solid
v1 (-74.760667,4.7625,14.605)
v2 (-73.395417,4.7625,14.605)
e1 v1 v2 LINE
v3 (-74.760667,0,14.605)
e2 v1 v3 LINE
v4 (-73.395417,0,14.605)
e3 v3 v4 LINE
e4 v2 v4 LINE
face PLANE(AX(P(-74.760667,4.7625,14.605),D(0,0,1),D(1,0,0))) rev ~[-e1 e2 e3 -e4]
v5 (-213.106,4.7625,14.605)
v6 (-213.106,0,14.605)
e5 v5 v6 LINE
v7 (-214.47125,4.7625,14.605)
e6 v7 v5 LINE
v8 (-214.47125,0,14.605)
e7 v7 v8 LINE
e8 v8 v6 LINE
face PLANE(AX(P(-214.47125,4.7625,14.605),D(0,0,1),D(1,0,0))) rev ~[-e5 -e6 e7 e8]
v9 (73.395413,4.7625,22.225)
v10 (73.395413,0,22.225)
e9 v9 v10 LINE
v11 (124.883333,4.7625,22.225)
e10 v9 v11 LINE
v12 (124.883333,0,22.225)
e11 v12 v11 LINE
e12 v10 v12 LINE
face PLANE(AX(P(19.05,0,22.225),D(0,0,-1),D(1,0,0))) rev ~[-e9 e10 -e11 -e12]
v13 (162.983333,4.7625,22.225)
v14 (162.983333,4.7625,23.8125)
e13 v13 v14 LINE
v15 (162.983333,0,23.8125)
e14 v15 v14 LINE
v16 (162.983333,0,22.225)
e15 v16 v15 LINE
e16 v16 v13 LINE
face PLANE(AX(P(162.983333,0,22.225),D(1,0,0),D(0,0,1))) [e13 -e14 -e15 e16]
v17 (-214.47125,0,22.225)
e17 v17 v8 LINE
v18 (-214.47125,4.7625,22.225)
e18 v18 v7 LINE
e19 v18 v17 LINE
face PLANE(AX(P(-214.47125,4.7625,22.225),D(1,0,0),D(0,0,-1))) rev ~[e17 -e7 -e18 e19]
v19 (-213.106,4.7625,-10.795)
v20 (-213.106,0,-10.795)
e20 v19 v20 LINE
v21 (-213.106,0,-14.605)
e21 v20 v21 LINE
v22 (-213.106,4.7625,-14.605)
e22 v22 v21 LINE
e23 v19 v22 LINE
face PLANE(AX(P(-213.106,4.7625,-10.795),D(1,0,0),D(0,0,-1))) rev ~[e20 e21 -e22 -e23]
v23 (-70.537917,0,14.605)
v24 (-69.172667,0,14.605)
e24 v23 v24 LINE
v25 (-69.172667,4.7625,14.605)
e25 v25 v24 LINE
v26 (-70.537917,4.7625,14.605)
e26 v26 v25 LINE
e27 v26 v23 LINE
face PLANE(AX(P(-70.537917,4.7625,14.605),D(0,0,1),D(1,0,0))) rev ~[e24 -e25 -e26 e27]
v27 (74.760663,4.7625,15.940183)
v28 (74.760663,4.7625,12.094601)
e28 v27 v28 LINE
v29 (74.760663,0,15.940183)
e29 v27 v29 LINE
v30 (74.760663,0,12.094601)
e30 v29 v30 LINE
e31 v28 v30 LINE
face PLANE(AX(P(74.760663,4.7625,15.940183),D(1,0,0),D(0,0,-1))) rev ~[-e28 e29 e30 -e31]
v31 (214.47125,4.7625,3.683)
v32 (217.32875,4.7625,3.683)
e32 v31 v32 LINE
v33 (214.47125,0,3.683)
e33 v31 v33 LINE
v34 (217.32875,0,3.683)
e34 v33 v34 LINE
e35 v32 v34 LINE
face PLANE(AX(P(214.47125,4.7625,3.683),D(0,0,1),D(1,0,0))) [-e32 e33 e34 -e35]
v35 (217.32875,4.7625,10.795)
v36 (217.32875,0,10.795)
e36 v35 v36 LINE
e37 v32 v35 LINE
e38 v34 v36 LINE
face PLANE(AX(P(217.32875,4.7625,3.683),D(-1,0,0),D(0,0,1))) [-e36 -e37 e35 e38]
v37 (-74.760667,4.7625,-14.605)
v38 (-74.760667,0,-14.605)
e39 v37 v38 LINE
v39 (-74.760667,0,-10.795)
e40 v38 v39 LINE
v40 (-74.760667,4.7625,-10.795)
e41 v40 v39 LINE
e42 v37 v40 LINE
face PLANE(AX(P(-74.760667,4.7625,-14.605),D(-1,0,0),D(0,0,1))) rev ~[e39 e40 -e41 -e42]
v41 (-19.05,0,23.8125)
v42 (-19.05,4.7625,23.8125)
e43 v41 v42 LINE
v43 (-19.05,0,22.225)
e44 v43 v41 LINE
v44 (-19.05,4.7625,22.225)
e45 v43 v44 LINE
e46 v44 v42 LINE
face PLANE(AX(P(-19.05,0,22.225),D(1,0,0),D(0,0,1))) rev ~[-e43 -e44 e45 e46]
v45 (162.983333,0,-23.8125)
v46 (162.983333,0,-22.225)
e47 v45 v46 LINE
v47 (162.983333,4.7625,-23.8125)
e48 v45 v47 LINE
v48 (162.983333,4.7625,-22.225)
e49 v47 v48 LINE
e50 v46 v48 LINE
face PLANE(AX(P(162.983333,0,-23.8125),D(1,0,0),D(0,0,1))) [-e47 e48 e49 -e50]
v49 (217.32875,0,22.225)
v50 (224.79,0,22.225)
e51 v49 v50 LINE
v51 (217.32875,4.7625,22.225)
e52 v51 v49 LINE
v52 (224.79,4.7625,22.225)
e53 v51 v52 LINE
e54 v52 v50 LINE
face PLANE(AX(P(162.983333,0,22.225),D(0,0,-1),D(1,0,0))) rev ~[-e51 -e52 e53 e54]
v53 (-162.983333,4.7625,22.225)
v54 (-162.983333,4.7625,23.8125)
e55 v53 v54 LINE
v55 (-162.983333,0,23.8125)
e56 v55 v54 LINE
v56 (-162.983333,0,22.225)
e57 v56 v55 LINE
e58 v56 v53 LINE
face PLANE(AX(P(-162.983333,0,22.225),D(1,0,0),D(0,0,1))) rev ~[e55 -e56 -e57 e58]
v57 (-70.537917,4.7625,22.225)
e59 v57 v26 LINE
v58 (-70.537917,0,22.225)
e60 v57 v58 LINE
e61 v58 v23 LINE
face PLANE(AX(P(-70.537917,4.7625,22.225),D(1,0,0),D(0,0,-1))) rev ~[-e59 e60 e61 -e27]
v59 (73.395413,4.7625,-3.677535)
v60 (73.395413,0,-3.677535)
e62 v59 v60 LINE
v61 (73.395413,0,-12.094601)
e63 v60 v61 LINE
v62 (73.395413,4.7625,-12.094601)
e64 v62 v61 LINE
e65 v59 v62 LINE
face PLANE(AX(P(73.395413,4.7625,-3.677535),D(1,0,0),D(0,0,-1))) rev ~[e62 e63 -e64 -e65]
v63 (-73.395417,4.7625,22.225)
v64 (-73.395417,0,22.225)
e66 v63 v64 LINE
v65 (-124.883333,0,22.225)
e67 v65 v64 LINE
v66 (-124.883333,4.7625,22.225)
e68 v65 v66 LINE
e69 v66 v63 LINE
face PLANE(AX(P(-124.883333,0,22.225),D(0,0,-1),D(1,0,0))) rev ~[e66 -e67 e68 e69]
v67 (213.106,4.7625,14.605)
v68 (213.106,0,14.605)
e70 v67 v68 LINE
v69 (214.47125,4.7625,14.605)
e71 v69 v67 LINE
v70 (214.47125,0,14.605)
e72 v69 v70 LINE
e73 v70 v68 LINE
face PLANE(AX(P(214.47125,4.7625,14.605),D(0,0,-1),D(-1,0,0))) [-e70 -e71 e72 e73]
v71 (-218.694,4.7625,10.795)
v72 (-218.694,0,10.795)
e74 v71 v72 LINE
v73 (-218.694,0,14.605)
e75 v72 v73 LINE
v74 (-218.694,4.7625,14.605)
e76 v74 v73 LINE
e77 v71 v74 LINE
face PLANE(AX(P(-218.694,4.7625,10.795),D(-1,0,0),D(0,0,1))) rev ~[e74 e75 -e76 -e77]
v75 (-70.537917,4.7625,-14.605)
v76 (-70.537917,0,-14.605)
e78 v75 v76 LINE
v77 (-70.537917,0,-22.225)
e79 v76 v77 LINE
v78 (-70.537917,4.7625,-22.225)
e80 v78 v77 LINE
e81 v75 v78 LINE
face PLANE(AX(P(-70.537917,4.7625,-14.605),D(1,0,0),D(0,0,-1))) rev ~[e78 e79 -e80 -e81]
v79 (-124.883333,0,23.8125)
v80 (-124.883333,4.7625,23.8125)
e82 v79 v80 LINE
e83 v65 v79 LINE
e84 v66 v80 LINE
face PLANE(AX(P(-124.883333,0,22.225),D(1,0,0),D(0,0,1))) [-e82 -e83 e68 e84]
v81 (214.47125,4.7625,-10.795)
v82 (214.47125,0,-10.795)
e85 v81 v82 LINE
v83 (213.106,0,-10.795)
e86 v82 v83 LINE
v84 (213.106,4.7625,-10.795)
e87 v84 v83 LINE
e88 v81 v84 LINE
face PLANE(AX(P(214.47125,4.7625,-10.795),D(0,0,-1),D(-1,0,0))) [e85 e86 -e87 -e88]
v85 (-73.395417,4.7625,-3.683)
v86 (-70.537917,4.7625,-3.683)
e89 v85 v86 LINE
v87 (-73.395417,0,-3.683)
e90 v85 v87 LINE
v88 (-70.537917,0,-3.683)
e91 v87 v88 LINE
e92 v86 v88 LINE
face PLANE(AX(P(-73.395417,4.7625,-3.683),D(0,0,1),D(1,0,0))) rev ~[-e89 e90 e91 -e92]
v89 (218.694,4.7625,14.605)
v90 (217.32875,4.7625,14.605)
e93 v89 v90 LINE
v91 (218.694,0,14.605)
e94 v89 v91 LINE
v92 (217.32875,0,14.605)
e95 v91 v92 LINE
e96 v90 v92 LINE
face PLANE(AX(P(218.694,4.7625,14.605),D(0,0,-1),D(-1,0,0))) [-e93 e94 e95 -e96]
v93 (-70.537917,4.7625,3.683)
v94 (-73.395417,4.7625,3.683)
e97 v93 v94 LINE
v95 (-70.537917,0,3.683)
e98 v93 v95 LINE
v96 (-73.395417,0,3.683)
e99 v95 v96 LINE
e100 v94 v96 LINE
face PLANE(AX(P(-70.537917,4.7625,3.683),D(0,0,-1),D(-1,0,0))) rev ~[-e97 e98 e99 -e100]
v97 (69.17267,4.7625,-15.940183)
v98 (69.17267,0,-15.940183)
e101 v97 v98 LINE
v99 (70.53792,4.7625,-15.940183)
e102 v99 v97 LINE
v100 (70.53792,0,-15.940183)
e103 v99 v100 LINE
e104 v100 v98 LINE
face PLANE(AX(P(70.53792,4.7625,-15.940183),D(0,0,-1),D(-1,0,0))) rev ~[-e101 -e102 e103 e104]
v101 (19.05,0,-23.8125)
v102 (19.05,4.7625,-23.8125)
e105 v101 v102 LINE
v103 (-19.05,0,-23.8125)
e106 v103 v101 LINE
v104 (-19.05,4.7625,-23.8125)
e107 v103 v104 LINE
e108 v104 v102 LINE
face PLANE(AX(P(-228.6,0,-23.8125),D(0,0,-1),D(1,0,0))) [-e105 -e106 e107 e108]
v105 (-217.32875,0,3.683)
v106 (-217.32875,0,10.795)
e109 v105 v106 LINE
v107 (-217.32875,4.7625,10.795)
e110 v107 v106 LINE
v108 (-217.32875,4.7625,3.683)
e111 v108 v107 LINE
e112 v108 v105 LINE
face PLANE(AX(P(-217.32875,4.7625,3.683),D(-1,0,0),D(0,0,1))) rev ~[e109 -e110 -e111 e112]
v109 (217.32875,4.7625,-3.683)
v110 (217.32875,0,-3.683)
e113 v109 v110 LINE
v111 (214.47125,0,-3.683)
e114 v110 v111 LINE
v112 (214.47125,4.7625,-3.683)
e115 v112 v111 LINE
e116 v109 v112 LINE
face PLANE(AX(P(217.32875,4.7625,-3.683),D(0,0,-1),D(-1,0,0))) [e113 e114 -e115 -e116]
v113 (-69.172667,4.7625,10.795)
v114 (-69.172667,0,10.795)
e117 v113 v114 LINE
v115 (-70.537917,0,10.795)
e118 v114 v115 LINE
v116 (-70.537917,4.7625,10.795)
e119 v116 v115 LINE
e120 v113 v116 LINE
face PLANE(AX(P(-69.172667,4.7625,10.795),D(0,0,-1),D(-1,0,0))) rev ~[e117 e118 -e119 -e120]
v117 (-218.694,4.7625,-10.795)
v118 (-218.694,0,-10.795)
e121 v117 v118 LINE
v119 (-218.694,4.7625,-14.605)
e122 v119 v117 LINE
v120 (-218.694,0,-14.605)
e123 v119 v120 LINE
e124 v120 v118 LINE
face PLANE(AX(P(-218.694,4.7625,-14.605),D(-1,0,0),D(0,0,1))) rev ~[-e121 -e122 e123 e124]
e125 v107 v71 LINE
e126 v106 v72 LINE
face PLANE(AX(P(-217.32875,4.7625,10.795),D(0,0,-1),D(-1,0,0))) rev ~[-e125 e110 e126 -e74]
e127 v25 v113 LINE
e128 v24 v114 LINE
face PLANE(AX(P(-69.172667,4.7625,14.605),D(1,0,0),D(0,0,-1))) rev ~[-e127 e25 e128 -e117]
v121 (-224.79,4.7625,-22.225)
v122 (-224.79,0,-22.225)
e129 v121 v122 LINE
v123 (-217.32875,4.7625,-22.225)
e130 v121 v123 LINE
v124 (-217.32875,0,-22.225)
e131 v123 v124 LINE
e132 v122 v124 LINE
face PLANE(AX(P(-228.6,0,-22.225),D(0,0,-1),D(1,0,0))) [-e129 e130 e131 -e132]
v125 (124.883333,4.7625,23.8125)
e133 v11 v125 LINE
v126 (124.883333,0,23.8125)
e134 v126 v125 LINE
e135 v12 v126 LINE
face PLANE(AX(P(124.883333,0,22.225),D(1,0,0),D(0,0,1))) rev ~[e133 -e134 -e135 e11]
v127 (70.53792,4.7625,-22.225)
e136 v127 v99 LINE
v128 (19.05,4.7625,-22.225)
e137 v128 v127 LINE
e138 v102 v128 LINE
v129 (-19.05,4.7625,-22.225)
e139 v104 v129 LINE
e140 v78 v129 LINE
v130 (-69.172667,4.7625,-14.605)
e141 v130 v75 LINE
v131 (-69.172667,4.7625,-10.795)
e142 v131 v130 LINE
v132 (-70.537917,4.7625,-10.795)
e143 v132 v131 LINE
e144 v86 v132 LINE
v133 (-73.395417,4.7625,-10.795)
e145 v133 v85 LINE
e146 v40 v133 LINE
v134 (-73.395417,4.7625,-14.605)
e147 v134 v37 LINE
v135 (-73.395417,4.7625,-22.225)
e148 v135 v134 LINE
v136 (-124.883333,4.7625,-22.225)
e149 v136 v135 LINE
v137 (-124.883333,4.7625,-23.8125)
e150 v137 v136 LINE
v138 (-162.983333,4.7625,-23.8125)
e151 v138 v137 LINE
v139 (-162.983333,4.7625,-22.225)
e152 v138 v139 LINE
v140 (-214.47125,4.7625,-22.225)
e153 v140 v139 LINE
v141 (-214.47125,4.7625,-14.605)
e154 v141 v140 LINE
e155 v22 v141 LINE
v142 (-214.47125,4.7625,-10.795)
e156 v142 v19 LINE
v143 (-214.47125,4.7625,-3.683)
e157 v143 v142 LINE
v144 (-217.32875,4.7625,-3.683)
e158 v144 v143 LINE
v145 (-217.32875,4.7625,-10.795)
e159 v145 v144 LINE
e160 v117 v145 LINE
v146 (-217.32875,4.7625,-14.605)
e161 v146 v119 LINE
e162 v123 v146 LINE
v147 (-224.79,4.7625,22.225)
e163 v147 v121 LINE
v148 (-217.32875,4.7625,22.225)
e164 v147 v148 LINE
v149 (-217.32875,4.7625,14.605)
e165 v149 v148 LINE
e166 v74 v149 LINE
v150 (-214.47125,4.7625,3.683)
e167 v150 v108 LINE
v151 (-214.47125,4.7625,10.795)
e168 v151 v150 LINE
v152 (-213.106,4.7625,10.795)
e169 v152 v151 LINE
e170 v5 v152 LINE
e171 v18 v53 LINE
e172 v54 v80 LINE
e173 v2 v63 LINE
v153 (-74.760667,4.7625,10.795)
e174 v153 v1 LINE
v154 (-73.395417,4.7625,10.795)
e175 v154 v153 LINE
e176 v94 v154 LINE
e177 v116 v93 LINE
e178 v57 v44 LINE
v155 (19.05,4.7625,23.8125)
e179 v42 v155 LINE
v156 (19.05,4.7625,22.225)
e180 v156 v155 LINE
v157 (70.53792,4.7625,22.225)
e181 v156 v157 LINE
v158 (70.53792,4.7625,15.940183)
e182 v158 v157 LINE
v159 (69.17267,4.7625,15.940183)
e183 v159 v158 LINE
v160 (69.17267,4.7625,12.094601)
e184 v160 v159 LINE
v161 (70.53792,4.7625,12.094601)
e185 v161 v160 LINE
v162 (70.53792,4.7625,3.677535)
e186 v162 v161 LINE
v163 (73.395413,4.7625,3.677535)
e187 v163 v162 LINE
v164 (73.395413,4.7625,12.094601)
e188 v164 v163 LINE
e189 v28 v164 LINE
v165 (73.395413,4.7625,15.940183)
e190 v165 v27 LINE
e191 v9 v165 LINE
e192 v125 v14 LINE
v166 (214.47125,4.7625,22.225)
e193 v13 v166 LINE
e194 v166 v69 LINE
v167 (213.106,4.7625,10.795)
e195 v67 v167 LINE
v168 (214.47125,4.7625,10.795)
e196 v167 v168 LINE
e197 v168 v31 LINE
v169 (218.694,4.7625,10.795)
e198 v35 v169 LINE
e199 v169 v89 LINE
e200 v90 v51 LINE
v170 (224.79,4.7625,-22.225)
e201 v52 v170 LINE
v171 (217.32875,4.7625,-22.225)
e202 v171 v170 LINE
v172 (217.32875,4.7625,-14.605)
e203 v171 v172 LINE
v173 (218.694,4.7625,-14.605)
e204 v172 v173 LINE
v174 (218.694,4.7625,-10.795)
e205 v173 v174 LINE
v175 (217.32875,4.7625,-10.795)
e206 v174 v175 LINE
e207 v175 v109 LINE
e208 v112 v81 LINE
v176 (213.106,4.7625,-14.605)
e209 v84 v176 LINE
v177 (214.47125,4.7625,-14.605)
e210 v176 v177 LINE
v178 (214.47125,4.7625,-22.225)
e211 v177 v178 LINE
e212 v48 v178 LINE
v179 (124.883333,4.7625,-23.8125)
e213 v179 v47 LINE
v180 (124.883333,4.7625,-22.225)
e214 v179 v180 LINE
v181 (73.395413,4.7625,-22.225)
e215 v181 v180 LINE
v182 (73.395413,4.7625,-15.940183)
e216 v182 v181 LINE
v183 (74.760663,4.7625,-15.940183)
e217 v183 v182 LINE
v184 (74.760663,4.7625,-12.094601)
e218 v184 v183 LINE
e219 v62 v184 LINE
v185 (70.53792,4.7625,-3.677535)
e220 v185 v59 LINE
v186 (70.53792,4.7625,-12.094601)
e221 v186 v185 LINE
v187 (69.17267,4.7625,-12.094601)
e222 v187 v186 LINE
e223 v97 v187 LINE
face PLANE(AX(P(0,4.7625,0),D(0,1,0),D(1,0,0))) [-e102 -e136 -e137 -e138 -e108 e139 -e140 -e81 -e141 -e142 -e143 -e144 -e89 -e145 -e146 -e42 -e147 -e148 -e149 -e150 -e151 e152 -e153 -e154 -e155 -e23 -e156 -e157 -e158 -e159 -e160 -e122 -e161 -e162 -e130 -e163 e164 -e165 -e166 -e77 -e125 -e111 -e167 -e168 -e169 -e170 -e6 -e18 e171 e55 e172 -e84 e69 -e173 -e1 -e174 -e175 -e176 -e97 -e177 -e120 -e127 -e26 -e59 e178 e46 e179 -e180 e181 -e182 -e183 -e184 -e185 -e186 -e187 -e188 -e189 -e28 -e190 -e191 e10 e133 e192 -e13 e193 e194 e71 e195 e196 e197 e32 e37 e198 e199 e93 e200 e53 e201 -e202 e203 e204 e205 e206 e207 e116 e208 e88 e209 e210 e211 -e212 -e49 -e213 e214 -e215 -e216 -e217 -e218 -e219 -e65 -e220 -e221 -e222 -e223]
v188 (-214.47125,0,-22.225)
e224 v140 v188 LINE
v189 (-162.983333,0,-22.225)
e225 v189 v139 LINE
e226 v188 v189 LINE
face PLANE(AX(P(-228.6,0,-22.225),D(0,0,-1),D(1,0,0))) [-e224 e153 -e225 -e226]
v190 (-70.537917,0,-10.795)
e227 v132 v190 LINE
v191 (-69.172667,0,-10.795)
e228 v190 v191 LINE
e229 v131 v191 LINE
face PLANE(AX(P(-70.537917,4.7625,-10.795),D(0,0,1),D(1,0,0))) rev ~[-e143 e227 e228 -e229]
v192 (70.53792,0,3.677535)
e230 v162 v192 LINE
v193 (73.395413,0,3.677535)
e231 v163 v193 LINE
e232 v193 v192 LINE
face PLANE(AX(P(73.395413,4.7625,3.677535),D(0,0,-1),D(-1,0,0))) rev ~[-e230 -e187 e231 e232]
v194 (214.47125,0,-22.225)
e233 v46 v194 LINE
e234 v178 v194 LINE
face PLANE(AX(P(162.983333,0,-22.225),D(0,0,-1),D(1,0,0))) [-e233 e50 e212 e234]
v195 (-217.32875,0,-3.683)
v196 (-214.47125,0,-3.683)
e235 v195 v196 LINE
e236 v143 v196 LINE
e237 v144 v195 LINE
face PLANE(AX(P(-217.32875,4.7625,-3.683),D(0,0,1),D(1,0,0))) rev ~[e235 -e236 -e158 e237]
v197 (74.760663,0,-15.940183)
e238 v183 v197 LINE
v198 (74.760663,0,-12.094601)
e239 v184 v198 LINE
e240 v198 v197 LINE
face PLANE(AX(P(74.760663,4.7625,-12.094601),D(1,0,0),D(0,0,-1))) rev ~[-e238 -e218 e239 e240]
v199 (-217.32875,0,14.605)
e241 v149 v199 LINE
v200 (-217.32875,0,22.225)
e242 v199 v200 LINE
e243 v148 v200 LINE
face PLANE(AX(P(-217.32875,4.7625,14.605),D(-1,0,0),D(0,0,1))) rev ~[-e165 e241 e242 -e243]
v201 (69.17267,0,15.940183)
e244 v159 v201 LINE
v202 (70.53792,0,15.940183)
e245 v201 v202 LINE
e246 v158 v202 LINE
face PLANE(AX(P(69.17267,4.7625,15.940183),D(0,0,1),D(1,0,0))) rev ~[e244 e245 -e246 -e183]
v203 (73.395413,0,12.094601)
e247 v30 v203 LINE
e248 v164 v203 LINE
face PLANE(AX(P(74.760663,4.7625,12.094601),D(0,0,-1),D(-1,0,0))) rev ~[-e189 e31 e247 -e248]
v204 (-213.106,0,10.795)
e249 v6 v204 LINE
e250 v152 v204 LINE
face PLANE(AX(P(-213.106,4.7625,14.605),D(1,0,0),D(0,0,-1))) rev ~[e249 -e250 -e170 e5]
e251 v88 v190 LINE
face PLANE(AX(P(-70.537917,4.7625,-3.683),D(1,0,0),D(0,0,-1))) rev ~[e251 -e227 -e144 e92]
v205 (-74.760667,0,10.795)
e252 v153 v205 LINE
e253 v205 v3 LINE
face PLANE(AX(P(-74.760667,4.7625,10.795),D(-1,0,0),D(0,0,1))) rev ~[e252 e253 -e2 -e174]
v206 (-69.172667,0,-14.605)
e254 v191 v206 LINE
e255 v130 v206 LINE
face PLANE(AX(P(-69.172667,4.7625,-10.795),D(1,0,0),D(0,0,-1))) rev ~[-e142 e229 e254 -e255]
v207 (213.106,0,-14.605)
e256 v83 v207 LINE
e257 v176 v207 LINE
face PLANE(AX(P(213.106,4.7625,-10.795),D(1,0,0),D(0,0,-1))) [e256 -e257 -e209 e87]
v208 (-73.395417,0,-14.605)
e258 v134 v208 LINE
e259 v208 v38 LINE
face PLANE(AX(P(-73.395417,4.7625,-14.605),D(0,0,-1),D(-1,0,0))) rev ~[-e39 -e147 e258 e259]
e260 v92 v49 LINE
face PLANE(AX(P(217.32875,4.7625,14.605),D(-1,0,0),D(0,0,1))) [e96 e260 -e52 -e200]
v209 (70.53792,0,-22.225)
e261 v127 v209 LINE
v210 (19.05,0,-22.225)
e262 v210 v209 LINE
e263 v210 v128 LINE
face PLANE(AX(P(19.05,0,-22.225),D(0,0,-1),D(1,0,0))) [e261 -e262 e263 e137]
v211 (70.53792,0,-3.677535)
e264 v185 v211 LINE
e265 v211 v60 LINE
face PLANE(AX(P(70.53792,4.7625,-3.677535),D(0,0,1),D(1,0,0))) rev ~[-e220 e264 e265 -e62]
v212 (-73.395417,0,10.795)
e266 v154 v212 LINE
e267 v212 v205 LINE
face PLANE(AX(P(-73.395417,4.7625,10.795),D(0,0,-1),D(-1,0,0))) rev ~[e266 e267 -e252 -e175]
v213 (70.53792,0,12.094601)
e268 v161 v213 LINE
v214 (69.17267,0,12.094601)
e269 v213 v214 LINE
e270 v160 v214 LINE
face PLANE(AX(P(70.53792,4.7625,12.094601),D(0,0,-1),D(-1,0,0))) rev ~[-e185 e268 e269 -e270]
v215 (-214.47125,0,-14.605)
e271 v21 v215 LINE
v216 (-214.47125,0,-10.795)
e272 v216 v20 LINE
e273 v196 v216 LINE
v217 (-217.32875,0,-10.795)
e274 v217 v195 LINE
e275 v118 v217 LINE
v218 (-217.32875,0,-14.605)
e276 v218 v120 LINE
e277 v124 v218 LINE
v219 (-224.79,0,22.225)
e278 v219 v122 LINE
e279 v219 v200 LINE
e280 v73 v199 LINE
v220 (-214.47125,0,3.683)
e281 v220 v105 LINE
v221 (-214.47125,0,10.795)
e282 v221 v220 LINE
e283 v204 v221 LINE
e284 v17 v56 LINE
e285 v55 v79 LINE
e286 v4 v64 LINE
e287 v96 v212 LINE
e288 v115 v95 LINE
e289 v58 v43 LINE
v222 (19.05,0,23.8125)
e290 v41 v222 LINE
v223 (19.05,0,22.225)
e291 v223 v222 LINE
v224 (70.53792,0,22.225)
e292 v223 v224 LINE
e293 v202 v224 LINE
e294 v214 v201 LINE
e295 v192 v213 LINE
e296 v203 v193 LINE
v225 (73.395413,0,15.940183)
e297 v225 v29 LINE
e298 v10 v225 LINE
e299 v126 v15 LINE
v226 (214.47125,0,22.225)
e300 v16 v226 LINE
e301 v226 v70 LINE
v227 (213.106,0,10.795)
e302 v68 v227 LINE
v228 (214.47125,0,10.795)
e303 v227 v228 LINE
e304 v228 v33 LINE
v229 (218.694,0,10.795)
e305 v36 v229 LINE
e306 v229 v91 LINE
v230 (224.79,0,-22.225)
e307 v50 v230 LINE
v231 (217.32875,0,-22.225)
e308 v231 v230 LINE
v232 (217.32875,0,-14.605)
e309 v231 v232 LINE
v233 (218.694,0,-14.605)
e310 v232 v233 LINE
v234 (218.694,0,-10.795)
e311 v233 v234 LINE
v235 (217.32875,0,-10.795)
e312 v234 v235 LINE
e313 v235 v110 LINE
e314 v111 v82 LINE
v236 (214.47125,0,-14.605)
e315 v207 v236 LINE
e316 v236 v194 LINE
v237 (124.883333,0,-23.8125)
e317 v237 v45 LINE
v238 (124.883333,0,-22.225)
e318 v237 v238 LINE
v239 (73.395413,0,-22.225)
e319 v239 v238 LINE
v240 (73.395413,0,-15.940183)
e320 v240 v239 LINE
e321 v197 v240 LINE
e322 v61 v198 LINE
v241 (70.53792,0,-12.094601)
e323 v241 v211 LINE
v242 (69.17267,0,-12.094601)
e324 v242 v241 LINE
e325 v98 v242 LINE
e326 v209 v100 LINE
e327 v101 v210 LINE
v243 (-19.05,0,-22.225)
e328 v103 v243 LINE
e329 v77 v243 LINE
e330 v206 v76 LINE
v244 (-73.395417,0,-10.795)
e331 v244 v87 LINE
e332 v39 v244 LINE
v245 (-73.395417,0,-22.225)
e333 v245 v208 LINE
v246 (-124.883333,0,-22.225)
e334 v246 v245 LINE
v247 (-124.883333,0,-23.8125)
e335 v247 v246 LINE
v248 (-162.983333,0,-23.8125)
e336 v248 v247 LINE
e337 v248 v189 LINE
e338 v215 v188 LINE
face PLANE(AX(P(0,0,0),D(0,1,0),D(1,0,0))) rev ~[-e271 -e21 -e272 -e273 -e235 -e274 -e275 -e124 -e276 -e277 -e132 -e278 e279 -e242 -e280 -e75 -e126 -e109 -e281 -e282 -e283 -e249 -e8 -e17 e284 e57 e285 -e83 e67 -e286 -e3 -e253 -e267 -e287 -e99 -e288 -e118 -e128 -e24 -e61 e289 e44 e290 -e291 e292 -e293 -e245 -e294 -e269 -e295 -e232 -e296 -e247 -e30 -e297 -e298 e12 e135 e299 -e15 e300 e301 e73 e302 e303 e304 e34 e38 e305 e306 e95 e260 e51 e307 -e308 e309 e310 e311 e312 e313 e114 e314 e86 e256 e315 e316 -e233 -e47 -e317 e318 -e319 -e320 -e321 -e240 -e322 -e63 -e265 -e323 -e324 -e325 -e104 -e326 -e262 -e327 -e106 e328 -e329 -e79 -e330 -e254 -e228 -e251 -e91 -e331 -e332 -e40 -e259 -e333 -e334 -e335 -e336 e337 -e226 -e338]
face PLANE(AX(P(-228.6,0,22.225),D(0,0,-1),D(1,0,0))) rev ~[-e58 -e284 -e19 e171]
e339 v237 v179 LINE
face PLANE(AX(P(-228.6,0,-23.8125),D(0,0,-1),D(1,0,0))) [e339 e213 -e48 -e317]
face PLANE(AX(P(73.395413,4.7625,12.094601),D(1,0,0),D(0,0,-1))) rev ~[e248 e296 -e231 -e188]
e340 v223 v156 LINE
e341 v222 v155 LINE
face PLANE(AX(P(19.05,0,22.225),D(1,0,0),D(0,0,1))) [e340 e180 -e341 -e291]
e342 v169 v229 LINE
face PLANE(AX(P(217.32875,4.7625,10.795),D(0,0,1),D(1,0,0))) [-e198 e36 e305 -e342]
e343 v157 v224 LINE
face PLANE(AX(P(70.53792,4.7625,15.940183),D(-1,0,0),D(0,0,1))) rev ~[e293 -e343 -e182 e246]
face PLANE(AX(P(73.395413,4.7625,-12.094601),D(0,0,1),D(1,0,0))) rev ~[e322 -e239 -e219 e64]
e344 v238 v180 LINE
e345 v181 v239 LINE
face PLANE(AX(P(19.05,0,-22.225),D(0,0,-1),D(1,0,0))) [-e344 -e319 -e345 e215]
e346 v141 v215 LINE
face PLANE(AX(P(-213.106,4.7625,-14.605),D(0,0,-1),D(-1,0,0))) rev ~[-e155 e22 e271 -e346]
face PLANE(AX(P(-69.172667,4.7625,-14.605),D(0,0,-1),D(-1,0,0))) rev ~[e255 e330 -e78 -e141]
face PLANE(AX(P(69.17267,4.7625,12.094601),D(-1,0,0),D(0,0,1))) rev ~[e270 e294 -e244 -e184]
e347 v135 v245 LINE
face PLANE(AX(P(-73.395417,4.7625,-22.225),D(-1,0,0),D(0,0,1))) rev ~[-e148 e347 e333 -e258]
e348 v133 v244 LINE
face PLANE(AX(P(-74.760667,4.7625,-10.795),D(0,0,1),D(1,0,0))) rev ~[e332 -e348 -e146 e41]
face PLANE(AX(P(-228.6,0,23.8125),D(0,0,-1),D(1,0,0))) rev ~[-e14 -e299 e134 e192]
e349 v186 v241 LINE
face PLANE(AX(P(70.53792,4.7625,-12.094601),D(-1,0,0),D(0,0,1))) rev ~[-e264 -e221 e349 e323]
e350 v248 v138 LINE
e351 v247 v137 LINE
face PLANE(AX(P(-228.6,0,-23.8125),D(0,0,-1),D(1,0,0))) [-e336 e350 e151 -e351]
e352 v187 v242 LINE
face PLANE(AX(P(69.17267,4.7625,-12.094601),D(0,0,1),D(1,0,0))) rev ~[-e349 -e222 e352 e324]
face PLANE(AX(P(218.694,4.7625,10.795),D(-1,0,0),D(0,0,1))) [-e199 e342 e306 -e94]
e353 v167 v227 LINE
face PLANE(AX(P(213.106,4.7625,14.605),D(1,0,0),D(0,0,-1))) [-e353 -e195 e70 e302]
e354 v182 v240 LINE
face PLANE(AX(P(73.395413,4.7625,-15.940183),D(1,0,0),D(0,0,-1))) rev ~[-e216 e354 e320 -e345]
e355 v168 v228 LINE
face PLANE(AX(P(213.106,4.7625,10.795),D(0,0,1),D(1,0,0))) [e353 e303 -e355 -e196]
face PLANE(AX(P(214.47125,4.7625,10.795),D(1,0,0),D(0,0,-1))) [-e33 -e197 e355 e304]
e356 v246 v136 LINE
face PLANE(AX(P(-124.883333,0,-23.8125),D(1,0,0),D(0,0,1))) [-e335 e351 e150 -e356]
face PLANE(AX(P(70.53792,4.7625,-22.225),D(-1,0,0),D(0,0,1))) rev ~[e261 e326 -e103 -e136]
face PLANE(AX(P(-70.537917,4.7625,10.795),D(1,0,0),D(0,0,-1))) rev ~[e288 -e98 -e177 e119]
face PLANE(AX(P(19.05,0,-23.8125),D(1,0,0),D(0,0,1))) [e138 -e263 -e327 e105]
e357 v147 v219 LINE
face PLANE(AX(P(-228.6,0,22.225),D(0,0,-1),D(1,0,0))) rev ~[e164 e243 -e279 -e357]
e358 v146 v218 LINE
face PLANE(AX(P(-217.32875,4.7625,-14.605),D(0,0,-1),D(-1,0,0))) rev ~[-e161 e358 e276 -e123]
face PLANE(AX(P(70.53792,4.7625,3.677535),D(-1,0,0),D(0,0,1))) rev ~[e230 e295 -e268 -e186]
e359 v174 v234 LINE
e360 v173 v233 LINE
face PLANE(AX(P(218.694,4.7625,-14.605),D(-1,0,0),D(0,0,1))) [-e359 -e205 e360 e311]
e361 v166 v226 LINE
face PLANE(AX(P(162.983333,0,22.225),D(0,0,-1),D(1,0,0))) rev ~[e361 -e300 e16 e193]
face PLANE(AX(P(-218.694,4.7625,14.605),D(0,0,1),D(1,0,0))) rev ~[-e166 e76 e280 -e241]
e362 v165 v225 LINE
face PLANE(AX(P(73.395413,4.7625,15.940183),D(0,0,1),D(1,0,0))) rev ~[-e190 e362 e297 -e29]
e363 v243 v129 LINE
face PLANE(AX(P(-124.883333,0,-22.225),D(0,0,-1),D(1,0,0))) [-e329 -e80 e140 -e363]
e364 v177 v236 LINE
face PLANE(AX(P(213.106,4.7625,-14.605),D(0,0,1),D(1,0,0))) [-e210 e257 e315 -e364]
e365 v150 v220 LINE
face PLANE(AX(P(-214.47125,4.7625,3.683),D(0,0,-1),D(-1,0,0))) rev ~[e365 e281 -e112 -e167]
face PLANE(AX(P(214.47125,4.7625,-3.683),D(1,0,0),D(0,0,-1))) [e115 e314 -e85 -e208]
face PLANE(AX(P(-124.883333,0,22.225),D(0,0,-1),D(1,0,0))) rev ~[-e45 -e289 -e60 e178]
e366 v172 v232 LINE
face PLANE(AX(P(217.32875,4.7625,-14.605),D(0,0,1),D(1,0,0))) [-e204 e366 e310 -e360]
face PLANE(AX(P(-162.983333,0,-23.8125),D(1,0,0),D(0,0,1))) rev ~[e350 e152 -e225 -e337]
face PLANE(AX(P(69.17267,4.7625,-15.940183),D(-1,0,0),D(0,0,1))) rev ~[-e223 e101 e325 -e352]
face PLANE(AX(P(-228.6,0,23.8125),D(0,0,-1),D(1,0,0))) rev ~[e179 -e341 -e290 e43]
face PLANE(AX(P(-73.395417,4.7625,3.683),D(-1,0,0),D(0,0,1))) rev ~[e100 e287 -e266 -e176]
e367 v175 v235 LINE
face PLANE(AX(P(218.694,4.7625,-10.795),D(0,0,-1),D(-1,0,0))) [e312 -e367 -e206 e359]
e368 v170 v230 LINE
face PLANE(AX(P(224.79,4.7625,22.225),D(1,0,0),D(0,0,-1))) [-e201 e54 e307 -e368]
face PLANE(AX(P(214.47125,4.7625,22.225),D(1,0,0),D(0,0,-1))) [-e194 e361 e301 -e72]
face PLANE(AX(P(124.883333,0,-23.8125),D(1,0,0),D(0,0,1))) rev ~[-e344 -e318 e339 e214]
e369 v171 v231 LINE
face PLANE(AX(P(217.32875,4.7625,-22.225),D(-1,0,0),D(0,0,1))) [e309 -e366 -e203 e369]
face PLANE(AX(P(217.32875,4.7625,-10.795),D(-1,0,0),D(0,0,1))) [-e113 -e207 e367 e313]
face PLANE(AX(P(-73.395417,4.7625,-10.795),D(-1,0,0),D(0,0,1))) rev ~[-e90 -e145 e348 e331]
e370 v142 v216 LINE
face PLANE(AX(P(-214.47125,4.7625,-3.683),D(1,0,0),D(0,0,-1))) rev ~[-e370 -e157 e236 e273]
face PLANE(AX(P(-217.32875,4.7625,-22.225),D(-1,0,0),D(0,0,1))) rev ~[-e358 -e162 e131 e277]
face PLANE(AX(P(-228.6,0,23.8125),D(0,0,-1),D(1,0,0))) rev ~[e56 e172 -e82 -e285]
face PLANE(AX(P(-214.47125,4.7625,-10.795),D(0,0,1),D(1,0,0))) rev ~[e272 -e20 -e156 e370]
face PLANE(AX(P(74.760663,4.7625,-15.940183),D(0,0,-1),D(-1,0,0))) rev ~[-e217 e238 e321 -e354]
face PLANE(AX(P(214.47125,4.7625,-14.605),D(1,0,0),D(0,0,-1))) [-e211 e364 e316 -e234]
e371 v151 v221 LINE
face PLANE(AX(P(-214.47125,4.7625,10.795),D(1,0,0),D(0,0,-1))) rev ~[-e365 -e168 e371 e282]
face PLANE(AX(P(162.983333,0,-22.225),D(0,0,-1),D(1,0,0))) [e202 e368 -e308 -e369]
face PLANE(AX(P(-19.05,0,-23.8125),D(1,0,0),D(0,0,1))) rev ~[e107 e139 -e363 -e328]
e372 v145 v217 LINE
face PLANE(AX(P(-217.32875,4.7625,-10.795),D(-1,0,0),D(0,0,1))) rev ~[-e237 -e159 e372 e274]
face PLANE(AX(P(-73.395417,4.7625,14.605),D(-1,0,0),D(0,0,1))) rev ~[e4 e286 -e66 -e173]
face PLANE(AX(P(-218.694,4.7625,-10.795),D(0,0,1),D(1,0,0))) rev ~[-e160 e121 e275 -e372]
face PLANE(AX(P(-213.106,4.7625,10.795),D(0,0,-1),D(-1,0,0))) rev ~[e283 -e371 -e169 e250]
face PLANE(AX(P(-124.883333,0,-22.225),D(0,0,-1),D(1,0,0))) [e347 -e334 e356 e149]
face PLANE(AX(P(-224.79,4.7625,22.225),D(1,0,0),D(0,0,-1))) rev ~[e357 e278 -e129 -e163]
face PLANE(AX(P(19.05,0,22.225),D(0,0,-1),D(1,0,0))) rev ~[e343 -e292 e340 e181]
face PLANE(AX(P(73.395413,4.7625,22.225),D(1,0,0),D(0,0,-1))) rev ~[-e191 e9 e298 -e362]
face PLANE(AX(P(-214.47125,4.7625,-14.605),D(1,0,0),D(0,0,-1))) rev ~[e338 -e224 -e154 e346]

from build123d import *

# Parameters (mm, degrees)
SKETCH1_W           = 457.2
SKETCH1_H           = 47.625
BOSS_EXTRUDE1_DEPTH = 4.7625
SKETCH2_W           = 65.616666667
SKETCH2_H           = 1.5875
SKETCH2_W_2         = 105.833333333
CUT_EXTRUDE1_DEPTH  = 4.7625
SKETCH3_W           = 65.616666667
SKETCH3_H           = 1.5875
SKETCH3_W_2         = 105.833333333
CUT_EXTRUDE3_DEPTH  = 4.7625
CUT_EXTRUDE4_DEPTH  = 4.7625
SKETCH6_W           = 3.81
SKETCH6_H           = 44.45
CUT_EXTRUDE6_DEPTH  = 4.7625


with BuildPart() as part:
    # Sketch1 → Boss-Extrude1 (new body)
    with BuildSketch(Plane(origin=(0, 0, 0), x_dir=(1, 0, 0), z_dir=(0, 1, 0))):
        Rectangle(SKETCH1_W, SKETCH1_H)
    extrude(amount=BOSS_EXTRUDE1_DEPTH)

    # Sketch2 → Cut-Extrude1 (cut)
    with BuildSketch(Plane.XZ):
        with Locations((-195.791666667, 23.01875)):
            Rectangle(SKETCH2_W, SKETCH2_H)
        with Locations((-71.966666667, 23.01875)):
            Rectangle(SKETCH2_W_2, SKETCH2_H)
        with Locations((71.966666667, 23.01875)):
            Rectangle(SKETCH2_W_2, SKETCH2_H)
        with Locations((195.791666667, 23.01875)):
            Rectangle(SKETCH2_W, SKETCH2_H)
    extrude(amount=-CUT_EXTRUDE1_DEPTH, mode=Mode.SUBTRACT)

    # Sketch3 → Cut-Extrude3 (cut)
    with BuildSketch(Plane.XZ):
        with Locations((-195.791666667, -23.01875)):
            Rectangle(SKETCH3_W, SKETCH3_H)
        with Locations((-71.966666667, -23.01875)):
            Rectangle(SKETCH3_W_2, SKETCH3_H)
        with Locations((71.966666667, -23.01875)):
            Rectangle(SKETCH3_W_2, SKETCH3_H)
        with Locations((195.791666667, -23.01875)):
            Rectangle(SKETCH3_W, SKETCH3_H)
    extrude(amount=-CUT_EXTRUDE3_DEPTH, mode=Mode.SUBTRACT)

    # Sketch4 → Cut-Extrude4 (cut)
    with BuildSketch(Plane(origin=(0, 4.7625, 0), x_dir=(1, 0, 0), z_dir=(0, 1, 0))):
        Polygon((217.32875, -22.225), (214.47125, -22.225), (214.47125, -14.605), (213.106, -14.605), (213.106, -10.795), (214.47125, -10.795), (214.47125, -3.683), (217.32875, -3.683), (217.32875, -10.795), (218.694, -10.795), (218.694, -14.605), (217.32875, -14.605), align=None)
        Polygon((73.395413242, -22.225), (73.395413242, -15.940182767), (74.760663242, -15.940182767), (74.760663242, -12.094601121), (73.395413242, -12.094601121), (73.395413242, -3.677534747), (70.537920091, -3.677534747), (70.537920091, -12.094601121), (69.172670091, -12.094601121), (69.172670091, -15.940182767), (70.537920091, -15.940182767), (70.537920091, -22.225), align=None)
        Polygon((-70.537916667, -22.225), (-70.537916667, -14.605), (-69.172666667, -14.605), (-69.172666667, -10.795), (-70.537916667, -10.795), (-70.537916667, -3.683), (-73.395416667, -3.683), (-73.395416667, -10.795), (-74.760666667, -10.795), (-74.760666667, -14.605), (-73.395416667, -14.605), (-73.395416667, -22.225), align=None)
        Polygon((-214.47125, -22.225), (-214.47125, -14.605), (-213.106, -14.605), (-213.106, -10.795), (-214.47125, -10.795), (-214.47125, -3.683), (-217.32875, -3.683), (-217.32875, -10.795), (-218.694, -10.795), (-218.694, -14.605), (-217.32875, -14.605), (-217.32875, -22.225), align=None)
        Polygon((-214.47125, 22.225), (-217.32875, 22.225), (-217.32875, 14.605), (-218.694, 14.605), (-218.694, 10.795), (-217.32875, 10.795), (-217.32875, 3.683), (-214.47125, 3.683), (-214.47125, 10.795), (-213.106, 10.795), (-213.106, 14.605), (-214.47125, 14.605), align=None)
        Polygon((-69.172666667, 14.605), (-70.537916667, 14.605), (-70.537916667, 22.225), (-73.395416667, 22.225), (-73.395416667, 14.605), (-74.760666667, 14.605), (-74.760666667, 10.795), (-73.395416667, 10.795), (-73.395416667, 3.683), (-70.537916667, 3.683), (-70.537916667, 10.795), (-69.172666667, 10.795), align=None)
        Polygon((74.760663242, 15.940182767), (73.395413242, 15.940182767), (73.395413242, 22.225), (70.537920091, 22.225), (70.537920091, 15.940182767), (69.172670091, 15.940182767), (69.172670091, 12.094601121), (70.537920091, 12.094601121), (70.537920091, 3.677534747), (73.395413242, 3.677534747), (73.395413242, 12.094601121), (74.760663242, 12.094601121), align=None)
        Polygon((218.694, 10.795), (217.32875, 10.795), (217.32875, 3.683), (214.47125, 3.683), (214.47125, 10.795), (213.106, 10.795), (213.106, 14.605), (214.47125, 14.605), (214.47125, 22.225), (217.32875, 22.225), (217.32875, 14.605), (218.694, 14.605), align=None)
    extrude(amount=-CUT_EXTRUDE4_DEPTH, mode=Mode.SUBTRACT)

    # Sketch6 → Cut-Extrude6 (cut)
    with BuildSketch(Plane(origin=(0, 4.7625, 0), x_dir=(1, 0, 0), z_dir=(0, 1, 0))):
        with Locations((-226.695, 0)):
            Rectangle(SKETCH6_W, SKETCH6_H)
        with Locations((226.695, 0)):
            Rectangle(SKETCH6_W, SKETCH6_H)
    extrude(amount=-CUT_EXTRUDE6_DEPTH, mode=Mode.SUBTRACT)


solid = part.part
